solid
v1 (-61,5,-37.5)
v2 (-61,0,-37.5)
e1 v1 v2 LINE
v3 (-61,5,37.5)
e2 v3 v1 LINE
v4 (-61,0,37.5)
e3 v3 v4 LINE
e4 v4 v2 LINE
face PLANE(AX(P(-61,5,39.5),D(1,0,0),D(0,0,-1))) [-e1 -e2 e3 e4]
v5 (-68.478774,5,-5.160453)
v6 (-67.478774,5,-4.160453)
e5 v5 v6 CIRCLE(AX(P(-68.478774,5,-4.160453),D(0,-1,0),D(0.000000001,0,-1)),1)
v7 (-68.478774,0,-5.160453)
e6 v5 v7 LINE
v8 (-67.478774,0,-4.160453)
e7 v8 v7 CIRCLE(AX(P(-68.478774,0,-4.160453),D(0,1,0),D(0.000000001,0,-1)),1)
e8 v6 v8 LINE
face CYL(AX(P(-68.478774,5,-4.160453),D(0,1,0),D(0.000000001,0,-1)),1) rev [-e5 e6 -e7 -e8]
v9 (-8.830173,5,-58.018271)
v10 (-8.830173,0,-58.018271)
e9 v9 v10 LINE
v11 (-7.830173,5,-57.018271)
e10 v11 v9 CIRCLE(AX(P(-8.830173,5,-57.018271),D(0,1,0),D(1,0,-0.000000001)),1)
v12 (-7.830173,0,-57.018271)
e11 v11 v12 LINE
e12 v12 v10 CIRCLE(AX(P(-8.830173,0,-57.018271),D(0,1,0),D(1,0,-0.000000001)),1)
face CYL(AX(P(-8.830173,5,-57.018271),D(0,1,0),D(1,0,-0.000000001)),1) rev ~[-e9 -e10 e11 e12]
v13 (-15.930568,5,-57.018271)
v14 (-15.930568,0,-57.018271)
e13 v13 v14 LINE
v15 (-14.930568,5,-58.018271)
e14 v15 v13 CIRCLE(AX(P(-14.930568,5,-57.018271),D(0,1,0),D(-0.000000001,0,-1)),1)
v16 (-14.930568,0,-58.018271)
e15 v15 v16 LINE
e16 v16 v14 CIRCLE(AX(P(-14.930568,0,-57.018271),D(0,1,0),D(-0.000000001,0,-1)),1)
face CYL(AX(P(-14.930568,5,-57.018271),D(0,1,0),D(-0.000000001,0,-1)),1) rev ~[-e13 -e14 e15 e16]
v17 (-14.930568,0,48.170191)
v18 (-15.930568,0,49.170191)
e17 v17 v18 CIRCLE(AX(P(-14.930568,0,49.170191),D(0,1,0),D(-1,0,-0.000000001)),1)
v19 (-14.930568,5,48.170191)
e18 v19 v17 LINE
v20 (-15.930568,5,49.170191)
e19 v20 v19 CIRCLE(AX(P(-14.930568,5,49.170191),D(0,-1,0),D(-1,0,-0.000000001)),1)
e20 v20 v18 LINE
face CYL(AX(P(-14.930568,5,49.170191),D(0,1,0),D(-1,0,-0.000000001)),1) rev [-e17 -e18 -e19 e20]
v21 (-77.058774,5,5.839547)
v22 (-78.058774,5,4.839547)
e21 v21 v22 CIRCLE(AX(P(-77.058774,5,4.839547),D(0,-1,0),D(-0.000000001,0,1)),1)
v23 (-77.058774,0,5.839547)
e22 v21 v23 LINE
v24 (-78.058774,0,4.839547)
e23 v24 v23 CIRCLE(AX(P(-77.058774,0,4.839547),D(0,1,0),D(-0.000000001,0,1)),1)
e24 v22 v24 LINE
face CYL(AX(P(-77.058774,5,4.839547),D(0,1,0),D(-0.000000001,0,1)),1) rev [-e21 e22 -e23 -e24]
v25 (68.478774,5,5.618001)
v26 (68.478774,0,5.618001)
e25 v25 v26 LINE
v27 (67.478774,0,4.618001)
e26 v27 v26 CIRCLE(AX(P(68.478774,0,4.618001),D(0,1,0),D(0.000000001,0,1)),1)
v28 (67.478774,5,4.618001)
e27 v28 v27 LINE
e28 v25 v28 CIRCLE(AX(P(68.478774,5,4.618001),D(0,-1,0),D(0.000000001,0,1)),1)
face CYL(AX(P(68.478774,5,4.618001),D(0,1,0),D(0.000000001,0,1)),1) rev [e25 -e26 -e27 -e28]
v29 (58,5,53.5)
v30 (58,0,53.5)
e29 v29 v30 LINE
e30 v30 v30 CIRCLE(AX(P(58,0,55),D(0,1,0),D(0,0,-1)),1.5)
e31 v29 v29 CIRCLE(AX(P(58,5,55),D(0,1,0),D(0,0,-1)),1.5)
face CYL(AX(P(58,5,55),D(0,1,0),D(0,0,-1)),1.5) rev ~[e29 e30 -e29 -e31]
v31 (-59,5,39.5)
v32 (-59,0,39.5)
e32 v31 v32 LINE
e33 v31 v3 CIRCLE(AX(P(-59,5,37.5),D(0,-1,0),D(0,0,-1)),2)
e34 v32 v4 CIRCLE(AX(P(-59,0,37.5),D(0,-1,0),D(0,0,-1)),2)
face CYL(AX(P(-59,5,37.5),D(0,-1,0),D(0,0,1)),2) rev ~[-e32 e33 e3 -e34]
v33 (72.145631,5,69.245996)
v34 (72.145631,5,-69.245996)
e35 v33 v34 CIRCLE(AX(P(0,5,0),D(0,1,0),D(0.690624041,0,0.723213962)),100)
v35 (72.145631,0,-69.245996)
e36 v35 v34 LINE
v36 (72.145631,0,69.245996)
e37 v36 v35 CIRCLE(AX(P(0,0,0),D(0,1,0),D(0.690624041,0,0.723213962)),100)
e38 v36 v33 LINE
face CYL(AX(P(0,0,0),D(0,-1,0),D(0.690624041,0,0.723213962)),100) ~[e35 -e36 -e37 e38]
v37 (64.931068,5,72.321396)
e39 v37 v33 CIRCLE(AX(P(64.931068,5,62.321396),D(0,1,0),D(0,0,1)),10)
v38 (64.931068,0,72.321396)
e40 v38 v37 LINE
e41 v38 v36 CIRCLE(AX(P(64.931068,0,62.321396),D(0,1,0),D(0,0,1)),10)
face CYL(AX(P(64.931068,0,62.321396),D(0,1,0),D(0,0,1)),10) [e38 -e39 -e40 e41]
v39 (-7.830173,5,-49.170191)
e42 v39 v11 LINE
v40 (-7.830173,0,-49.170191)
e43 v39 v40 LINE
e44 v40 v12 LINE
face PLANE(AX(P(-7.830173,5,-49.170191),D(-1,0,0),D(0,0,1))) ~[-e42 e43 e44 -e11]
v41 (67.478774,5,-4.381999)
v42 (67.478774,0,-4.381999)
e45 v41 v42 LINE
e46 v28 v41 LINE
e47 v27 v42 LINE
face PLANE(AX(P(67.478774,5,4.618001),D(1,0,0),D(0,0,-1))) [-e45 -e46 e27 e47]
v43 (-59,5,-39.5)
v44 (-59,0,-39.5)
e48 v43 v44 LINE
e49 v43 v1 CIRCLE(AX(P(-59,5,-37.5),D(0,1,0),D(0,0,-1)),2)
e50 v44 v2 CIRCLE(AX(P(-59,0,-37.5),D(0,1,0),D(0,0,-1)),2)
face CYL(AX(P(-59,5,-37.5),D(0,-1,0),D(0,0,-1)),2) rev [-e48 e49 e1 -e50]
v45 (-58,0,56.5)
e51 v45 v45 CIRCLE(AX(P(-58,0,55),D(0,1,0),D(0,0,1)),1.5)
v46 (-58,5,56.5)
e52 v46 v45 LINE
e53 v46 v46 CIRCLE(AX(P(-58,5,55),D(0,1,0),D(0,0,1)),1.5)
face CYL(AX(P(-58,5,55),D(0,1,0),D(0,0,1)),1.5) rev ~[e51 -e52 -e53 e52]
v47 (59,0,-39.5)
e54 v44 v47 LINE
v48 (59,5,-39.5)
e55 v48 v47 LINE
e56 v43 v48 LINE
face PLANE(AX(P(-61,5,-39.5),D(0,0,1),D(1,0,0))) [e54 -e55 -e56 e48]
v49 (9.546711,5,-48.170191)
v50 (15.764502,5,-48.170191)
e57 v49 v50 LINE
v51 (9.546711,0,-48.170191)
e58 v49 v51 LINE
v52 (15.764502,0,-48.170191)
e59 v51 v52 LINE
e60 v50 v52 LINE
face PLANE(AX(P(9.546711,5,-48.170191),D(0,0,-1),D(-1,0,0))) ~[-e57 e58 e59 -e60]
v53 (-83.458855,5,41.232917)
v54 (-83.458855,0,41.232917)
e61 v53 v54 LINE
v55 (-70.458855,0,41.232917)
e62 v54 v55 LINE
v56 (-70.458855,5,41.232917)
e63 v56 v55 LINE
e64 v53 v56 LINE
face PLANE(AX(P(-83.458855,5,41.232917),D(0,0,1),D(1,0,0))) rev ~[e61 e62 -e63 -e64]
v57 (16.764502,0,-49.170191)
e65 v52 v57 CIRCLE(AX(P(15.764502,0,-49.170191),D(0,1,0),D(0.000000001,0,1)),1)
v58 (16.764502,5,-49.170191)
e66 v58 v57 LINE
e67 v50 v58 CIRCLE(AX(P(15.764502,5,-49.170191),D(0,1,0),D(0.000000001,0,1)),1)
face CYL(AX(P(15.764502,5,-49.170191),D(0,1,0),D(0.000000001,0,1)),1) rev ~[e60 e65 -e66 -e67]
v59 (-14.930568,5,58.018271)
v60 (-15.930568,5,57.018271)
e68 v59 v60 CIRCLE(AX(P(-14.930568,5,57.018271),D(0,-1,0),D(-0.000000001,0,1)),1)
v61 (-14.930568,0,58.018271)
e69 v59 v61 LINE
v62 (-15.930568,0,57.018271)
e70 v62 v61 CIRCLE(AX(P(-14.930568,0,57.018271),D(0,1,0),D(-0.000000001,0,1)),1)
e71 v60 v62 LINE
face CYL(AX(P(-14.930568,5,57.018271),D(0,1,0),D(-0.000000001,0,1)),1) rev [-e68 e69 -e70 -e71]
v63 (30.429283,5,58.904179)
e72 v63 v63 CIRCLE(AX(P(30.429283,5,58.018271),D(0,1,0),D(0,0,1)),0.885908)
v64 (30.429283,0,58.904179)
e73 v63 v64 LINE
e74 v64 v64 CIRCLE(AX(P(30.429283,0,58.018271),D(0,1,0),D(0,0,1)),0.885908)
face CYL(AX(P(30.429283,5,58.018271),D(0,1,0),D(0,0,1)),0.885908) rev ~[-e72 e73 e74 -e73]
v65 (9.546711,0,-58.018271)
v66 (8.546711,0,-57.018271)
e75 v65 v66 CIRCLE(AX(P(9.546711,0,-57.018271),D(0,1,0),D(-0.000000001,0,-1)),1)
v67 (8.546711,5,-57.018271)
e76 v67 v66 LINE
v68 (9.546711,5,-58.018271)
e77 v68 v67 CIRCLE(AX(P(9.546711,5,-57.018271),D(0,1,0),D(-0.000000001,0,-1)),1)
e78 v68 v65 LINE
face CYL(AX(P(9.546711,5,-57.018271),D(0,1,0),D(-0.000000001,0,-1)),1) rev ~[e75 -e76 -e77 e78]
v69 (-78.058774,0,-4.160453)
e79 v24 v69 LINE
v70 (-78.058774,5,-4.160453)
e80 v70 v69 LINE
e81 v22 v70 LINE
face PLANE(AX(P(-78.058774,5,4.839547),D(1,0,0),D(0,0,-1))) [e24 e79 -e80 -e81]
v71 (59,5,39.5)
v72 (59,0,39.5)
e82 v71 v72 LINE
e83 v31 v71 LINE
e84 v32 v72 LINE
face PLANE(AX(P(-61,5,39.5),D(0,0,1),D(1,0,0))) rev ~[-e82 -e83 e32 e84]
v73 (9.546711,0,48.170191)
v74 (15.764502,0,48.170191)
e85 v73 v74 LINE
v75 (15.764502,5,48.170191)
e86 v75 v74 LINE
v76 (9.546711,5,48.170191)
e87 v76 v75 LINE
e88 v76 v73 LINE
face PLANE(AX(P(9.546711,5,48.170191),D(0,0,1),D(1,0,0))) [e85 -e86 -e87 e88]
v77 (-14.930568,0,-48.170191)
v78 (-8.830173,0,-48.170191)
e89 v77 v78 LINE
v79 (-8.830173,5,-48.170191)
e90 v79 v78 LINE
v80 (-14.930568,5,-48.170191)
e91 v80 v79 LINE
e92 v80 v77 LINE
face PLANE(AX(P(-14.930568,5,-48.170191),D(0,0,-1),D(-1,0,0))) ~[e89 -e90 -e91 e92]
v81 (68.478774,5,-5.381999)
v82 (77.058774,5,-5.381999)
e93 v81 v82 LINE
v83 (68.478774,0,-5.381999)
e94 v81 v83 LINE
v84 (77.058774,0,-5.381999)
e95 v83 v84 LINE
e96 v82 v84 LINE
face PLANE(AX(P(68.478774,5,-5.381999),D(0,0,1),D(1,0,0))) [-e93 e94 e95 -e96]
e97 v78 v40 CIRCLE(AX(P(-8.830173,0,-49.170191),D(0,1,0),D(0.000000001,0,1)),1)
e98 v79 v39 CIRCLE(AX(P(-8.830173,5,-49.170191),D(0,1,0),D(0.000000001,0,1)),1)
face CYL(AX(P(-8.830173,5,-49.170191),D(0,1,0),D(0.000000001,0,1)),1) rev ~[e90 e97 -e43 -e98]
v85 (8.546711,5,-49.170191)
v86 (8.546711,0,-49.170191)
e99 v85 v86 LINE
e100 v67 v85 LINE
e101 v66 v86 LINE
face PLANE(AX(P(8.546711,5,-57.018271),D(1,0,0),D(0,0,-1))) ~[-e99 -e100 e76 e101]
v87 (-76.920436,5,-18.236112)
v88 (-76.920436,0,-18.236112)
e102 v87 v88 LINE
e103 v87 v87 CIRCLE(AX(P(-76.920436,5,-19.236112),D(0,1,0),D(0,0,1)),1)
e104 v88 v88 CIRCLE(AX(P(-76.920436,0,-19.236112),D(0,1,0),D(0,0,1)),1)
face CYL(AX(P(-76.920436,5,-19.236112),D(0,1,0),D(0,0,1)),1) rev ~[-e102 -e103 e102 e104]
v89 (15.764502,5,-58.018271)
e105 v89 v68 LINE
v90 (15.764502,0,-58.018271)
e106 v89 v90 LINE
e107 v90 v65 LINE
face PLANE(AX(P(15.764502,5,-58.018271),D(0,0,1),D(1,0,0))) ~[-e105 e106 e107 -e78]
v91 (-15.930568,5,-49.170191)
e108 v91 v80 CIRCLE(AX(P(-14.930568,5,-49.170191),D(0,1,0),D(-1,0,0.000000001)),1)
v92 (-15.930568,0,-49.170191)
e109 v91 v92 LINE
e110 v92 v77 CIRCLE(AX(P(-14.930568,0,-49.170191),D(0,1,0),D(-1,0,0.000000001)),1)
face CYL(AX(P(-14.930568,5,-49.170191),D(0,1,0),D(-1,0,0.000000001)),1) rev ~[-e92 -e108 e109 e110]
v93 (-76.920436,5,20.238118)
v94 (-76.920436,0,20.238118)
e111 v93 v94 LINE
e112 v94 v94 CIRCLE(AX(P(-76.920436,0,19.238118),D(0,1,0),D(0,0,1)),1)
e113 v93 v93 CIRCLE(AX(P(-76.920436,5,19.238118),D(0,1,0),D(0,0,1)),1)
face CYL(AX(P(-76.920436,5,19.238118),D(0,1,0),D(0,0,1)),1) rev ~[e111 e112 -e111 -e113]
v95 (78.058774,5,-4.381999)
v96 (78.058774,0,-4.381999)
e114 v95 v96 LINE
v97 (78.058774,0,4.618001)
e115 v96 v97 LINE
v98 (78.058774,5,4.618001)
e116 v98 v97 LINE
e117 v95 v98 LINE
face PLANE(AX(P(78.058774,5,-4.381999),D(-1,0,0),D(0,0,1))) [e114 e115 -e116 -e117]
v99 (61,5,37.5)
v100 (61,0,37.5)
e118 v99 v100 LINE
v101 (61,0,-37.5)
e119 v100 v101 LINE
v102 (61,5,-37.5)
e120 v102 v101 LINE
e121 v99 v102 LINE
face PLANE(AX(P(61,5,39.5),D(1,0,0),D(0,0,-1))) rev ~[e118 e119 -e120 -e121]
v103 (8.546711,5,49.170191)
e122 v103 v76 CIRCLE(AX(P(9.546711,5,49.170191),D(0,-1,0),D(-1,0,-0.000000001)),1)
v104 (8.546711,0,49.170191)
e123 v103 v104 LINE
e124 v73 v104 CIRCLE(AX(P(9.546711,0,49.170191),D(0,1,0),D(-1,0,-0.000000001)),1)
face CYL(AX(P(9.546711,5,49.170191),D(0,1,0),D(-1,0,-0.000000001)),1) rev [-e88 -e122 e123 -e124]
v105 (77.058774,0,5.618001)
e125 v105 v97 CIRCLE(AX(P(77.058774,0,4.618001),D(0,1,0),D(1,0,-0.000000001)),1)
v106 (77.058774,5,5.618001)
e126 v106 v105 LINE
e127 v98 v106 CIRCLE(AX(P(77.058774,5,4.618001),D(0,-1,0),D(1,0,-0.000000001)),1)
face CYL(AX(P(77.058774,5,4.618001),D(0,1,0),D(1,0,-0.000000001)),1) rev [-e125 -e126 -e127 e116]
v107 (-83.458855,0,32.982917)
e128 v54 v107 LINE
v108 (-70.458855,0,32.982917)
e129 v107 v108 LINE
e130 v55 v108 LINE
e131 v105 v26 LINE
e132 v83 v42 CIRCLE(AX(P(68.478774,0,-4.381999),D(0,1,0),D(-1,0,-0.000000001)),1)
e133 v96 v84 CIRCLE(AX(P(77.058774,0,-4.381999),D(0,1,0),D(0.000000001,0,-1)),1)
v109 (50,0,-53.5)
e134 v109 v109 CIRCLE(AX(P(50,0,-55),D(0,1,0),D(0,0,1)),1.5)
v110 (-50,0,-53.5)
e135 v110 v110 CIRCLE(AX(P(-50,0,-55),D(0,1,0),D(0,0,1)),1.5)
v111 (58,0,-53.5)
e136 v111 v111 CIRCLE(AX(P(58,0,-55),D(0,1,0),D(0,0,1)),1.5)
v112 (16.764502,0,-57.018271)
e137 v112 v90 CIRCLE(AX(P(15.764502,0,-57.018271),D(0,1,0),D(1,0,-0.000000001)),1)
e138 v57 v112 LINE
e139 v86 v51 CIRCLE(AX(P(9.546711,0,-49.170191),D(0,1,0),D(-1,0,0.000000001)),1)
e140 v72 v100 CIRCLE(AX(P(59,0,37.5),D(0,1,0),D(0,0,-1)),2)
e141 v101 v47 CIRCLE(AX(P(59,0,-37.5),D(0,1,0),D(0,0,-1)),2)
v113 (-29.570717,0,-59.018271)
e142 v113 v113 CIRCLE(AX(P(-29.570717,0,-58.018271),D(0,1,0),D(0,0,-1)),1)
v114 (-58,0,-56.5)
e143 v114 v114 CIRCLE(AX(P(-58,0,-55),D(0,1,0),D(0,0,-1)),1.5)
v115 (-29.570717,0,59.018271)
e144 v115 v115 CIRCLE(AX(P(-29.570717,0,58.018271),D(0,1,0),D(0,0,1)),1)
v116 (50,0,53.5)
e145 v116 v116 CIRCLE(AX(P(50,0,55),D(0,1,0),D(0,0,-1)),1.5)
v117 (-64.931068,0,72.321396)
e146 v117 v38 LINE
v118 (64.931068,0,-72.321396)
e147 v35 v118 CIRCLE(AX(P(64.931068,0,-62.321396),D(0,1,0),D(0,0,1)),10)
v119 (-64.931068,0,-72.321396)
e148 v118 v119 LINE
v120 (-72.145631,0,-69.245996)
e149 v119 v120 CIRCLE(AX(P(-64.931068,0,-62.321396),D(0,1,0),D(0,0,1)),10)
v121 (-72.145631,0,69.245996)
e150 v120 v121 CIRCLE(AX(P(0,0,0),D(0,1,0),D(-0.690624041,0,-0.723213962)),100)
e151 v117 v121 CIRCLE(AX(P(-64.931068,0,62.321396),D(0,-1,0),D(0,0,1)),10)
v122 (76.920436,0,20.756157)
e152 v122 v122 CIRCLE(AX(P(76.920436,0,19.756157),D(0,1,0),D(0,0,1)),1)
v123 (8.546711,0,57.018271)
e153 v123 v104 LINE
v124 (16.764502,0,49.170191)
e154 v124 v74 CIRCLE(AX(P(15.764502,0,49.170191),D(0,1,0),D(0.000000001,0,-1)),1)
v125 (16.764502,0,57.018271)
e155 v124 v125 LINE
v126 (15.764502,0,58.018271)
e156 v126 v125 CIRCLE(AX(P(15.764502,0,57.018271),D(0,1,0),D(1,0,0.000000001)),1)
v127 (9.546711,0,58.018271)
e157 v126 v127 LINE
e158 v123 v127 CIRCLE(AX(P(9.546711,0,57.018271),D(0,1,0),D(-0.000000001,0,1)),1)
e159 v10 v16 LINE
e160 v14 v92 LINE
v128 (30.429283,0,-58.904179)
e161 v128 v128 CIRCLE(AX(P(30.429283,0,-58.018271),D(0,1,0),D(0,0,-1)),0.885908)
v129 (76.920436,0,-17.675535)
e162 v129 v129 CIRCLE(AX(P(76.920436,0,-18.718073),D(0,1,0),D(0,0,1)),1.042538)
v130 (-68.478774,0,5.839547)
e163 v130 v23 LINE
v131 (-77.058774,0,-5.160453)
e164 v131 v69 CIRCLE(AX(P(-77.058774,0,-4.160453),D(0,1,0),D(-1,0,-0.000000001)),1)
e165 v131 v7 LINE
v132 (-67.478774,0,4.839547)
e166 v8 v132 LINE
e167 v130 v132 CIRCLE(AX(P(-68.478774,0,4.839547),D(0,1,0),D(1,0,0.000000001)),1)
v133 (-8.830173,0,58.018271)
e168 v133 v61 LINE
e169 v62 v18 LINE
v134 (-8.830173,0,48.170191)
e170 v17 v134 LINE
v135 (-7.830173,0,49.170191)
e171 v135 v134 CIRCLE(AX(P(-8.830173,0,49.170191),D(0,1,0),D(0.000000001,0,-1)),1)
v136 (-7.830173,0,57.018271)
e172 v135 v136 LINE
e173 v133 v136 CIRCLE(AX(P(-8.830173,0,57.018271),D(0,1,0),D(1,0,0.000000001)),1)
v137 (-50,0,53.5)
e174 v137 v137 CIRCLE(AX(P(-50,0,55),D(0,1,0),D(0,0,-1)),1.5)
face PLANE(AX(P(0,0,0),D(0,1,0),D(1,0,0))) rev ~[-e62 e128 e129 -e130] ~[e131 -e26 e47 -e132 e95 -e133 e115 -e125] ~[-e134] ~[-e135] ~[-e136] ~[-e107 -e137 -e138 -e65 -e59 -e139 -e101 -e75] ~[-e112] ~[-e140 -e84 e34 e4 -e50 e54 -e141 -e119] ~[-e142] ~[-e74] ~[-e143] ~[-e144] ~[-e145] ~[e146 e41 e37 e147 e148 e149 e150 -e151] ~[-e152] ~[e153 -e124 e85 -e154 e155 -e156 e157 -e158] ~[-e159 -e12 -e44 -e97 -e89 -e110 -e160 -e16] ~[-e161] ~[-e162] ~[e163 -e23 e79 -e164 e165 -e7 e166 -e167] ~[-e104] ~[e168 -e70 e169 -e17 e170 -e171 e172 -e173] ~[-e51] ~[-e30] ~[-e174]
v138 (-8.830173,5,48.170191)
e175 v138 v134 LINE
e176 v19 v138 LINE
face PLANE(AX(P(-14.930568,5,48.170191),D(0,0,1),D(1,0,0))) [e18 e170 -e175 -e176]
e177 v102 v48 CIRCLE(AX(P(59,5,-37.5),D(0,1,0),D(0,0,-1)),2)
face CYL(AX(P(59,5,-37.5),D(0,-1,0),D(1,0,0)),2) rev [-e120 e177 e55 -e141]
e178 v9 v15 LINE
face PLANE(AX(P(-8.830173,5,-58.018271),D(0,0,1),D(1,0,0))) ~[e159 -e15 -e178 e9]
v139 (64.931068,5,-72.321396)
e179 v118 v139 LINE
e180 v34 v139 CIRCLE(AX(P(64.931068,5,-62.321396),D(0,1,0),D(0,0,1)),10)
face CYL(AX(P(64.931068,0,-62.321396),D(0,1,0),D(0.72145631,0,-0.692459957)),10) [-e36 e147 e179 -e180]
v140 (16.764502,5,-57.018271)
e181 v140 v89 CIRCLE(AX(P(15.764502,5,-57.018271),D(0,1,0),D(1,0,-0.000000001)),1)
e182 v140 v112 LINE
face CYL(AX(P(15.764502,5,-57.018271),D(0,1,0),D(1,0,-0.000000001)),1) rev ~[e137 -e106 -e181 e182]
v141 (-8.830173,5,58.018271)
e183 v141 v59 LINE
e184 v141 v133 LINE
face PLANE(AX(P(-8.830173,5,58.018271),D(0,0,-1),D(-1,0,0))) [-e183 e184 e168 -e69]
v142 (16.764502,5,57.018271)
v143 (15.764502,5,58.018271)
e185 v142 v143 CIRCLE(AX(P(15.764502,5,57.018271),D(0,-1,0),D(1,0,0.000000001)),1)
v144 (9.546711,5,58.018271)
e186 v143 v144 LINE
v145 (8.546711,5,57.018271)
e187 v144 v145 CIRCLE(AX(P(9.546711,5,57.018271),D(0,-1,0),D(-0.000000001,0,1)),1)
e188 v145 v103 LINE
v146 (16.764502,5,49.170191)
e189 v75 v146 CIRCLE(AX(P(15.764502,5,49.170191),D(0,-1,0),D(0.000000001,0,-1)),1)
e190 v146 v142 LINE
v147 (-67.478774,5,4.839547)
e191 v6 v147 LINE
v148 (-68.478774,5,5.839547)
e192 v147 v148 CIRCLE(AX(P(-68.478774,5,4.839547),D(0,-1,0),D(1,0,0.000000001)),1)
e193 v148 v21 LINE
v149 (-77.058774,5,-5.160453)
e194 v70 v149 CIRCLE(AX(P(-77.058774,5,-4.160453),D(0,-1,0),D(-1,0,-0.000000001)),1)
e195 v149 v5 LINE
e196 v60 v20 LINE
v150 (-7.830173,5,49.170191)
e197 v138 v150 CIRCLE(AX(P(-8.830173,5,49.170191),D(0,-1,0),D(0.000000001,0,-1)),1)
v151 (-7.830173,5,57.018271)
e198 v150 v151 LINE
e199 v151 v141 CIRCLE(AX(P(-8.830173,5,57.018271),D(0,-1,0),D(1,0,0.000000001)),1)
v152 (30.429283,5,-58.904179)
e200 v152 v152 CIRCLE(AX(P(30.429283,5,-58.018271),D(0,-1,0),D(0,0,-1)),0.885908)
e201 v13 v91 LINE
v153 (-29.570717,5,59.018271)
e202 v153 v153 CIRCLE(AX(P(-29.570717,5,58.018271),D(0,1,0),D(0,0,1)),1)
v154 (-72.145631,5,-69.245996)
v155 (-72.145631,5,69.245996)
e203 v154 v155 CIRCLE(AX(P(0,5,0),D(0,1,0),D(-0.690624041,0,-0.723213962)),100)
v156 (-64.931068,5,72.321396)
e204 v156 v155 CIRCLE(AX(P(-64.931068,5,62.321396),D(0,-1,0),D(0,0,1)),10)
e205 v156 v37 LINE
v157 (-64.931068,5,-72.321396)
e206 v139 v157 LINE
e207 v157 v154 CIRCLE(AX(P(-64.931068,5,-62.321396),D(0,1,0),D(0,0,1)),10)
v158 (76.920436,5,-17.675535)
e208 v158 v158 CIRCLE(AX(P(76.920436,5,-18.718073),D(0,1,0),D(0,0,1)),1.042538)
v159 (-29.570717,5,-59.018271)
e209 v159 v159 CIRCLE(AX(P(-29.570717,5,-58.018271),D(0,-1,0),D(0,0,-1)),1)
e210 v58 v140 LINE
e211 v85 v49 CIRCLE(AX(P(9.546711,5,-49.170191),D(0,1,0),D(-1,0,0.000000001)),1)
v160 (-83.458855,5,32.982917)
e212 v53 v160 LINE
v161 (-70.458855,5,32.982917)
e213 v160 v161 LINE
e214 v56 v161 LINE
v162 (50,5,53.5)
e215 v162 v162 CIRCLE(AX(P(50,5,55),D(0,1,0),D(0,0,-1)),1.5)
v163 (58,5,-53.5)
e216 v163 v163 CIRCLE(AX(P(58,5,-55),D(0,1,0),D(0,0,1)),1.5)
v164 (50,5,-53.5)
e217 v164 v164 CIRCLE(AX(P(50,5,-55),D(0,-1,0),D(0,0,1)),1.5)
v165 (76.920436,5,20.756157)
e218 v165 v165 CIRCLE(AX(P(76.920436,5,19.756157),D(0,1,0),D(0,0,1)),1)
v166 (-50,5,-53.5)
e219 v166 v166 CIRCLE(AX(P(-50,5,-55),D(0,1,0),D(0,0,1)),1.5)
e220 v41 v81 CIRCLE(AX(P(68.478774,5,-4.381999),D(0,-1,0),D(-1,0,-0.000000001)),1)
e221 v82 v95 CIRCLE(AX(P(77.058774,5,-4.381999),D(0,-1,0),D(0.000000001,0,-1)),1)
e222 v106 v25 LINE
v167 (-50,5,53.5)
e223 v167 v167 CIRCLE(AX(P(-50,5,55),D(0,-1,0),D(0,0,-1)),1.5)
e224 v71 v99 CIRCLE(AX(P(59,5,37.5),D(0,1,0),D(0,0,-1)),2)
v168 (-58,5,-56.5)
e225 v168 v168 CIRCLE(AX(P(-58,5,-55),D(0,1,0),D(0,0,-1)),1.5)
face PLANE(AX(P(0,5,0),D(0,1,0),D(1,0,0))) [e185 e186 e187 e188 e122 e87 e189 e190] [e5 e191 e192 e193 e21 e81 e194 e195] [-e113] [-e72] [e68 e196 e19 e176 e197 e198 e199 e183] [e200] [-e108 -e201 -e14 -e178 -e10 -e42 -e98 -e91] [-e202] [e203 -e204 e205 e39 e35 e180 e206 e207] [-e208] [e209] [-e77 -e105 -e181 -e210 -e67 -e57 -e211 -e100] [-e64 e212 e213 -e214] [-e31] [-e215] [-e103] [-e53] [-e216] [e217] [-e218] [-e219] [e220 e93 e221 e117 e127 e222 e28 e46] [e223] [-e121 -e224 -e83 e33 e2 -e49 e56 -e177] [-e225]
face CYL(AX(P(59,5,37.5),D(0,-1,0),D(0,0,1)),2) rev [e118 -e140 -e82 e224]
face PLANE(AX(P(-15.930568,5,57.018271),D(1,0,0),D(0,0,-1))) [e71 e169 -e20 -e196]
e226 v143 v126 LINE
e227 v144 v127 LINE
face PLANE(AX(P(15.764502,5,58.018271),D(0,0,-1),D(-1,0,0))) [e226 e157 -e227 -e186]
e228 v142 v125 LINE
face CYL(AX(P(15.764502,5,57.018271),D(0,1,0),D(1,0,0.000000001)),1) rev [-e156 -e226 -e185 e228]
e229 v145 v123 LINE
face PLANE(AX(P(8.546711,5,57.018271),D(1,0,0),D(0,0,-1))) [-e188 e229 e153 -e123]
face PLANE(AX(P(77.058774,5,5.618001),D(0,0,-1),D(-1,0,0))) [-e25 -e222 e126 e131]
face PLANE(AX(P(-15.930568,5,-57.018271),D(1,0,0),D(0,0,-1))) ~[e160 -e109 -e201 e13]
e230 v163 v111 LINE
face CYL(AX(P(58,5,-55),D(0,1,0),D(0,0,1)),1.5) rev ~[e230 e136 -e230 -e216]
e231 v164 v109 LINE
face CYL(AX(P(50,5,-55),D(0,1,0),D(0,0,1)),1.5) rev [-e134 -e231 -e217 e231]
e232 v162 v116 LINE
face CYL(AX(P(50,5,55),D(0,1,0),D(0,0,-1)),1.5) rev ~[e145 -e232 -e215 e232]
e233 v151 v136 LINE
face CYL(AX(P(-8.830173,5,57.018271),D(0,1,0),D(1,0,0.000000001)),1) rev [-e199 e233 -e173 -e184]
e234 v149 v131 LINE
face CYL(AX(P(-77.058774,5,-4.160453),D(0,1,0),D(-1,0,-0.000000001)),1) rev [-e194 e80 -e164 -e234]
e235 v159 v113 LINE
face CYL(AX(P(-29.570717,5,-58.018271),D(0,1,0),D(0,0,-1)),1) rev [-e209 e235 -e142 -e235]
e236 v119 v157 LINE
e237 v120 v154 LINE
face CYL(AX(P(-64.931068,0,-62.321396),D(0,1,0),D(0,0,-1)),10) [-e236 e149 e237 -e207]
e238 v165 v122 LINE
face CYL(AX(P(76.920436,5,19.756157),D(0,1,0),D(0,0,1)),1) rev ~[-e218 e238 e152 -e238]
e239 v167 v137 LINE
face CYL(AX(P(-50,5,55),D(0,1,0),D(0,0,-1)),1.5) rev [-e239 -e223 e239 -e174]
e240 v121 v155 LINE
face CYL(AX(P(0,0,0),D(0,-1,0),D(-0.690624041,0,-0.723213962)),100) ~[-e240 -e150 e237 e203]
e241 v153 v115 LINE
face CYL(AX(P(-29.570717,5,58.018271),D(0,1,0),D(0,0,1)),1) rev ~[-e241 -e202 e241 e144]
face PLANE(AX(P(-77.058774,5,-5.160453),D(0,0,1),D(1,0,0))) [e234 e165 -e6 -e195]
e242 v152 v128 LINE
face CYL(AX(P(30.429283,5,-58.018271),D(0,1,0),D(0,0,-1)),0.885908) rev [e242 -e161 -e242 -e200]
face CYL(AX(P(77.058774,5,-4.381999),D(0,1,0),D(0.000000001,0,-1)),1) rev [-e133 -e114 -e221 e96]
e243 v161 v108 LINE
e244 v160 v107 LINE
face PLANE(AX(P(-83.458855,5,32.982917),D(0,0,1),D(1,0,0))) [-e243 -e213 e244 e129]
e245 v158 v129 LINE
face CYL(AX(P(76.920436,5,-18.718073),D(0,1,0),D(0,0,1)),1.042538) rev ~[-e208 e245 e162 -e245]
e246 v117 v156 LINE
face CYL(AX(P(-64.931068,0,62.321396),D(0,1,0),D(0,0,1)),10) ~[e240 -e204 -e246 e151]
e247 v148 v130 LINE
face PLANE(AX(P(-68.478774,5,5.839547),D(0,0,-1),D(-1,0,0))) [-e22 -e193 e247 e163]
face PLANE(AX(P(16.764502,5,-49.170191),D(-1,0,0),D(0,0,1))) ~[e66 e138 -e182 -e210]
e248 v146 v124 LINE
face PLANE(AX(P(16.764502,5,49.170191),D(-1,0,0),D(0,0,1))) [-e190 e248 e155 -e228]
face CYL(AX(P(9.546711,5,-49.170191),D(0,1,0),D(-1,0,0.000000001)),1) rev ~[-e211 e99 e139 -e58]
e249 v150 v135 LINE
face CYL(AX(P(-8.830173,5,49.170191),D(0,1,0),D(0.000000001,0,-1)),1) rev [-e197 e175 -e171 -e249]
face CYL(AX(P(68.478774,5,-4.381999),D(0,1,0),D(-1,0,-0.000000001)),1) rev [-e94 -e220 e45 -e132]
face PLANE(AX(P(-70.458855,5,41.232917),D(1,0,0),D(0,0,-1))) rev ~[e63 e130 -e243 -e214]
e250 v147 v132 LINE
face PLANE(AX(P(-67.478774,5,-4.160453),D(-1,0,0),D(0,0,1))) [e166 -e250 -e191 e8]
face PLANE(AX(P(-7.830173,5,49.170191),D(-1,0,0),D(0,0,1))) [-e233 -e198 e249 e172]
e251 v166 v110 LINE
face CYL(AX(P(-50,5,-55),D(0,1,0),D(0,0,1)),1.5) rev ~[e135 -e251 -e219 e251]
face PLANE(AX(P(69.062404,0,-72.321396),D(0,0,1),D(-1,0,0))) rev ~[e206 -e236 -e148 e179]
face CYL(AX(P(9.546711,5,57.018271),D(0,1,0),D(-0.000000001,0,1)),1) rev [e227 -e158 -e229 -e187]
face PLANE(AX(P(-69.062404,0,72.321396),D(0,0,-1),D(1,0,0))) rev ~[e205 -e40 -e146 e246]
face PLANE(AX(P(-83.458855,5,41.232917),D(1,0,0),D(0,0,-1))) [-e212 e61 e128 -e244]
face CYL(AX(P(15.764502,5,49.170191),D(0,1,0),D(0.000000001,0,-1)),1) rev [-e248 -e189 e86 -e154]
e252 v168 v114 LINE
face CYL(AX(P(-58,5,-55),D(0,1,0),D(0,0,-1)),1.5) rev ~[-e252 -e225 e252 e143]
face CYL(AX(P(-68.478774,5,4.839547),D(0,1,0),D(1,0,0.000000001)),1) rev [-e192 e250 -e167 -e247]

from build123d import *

# Parameters (mm, degrees)
RESSALTO_EXTRUS_O1_DEPTH  = 5
FILETE1_R                 = 10
ESBO_O4_R                 = 1.5
CORTE_EXTRUS_O3_DEPTH     = 124.512688994
ESPELHAR4_COPY_1_SKETCH_R = 1.5
ESPELHAR4_COPY_1_DEPTH    = 124.512688994
SKETCH1_W                 = 122
SKETCH1_H                 = 79
CUT_EXTRUDE1_DEPTH        = 124.512688994
FILLET2_R                 = 2
ESBO_O6_R                 = 1
CORTE_EXTRUS_O4_DEPTH     = 124.512688994
ESBO_O8_R                 = 1
ESBO_O8_R_2               = 1.042538076
CORTE_EXTRUS_O5_DEPTH     = 124.512688994
ESBO_O12_W                = 13
ESBO_O12_H                = 8.25
CORTE_EXTRUS_O7_DEPTH     = 124.512688994
ESBO_O13_R                = 1.5
CORTE_EXTRUS_O8_DEPTH     = 124.512688994
ESBO_O14_R                = 1
ESBO_O14_R_2              = 0.885907966
CORTE_EXTRUS_O9_DEPTH     = 124.512688994


with BuildPart() as part:
    # Esboço1 → Ressalto-extrusão1 (new body)
    with BuildSketch(Plane(origin=(0, 0, 0), x_dir=(1, 0, 0), z_dir=(0, 1, 0))):
        with BuildLine():
            Line((-69.062404082, -72.321396159), (69.062404082, -72.321396159))
            ThreePointArc((69.062404082, -72.321396159), (100, 0), (69.062404082, 72.321396159))
            Line((69.062404082, 72.321396159), (-69.062404082, 72.321396159))
            ThreePointArc((-69.062404082, 72.321396159), (-100, 0), (-69.062404082, -72.321396159))
        make_face()
    extrude(amount=RESSALTO_EXTRUS_O1_DEPTH)

    # Filete1
    filete1_edges = [part.edges().sort_by_distance(p)[0] for p in [
        (-69.062404082, 2.5, -72.321396159),
        (69.062404082, 2.5, -72.321396159),
        (69.062404082, 2.5, 72.321396159),
        (-69.062404082, 2.5, 72.321396159),
    ]]
    fillet(filete1_edges, radius=FILETE1_R)

    # Esboço4 → Corte-extrusão3 (cut, through all)
    with BuildSketch(Plane(origin=(0, 5, 0), x_dir=(1, 0, 0), z_dir=(0, 1, 0))):
        with Locations(Location((-50, 55, 0), (0, 0, 270))):
            Circle(ESBO_O4_R)
    corte_extrus_o3 = extrude(amount=-CORTE_EXTRUS_O3_DEPTH, mode=Mode.SUBTRACT)

    # Espelhar3: Corte-extrusão3 across plane
    add(corte_extrus_o3.mirror(Plane(origin=(0, 0, 0), x_dir=(0, 0, 1), z_dir=(1, 0, 0))), mode=Mode.SUBTRACT)

    # Espelhar4: Corte-extrusão3 across plane
    add(corte_extrus_o3.mirror(Plane.XY), mode=Mode.SUBTRACT)

    # Espelhar4 copy 1 sketch → Espelhar4 copy 1 (cut, through all)
    with BuildSketch(Plane(origin=(0, 5, 0), x_dir=(-1, 0, 0), z_dir=(0, 1, 0))):
        with Locations(Location((-50, 55, 0), (0, 0, 270))):
            Circle(ESPELHAR4_COPY_1_SKETCH_R)
    extrude(amount=-ESPELHAR4_COPY_1_DEPTH, mode=Mode.SUBTRACT)

    # Sketch1 → Cut-Extrude1 (cut, through all)
    with BuildSketch(Plane(origin=(0, 5, 0), x_dir=(1, 0, 0), z_dir=(0, 1, 0))):
        Rectangle(SKETCH1_W, SKETCH1_H)
    extrude(amount=-CUT_EXTRUDE1_DEPTH, mode=Mode.SUBTRACT)

    # Fillet2
    fillet2_edges = [part.edges().sort_by_distance(p)[0] for p in [
        (-61, 2.5, 39.5),
        (-61, 2.5, -39.5),
        (61, 2.5, -39.5),
        (61, 2.5, 39.5),
    ]]
    fillet(fillet2_edges, radius=FILLET2_R)

    # Esboço6 → Corte-extrusão4 (cut, through all)
    with BuildSketch(Plane(origin=(0, 5, 0), x_dir=(1, 0, 0), z_dir=(0, 1, 0))):
        with Locations(Location((-76.920436381, 19.236111974, 0), (0, 0, 270))):
            Circle(ESBO_O6_R)
        with Locations(Location((-76.920436293, -19.238117897, 0), (0, 0, 270))):
            Circle(ESBO_O6_R)
    extrude(amount=-CORTE_EXTRUS_O4_DEPTH, mode=Mode.SUBTRACT)

    # Esboço8 → Corte-extrusão5 (cut, through all)
    with BuildSketch(Plane(origin=(0, 5, 0), x_dir=(1, 0, 0), z_dir=(0, 1, 0))):
        with Locations(Location((76.920436129, -19.756156804, 0), (0, 0, 270))):
            Circle(ESBO_O8_R)
        with Locations(Location((76.920436041, 18.718073068, 0), (0, 0, 270))):
            Circle(ESBO_O8_R_2)
        with BuildLine():
            Line((77.058773716, -5.618000613), (68.478773716, -5.618000613))
            ThreePointArc((68.478773716, -5.618000613), (67.771666935, -5.325107395), (67.478773716, -4.618000613))
            Line((67.478773716, -4.618000613), (67.478773716, 4.381999387))
            ThreePointArc((67.478773716, 4.381999387), (67.771666935, 5.089106168), (68.478773716, 5.381999387))
            Line((68.478773716, 5.381999387), (77.058773716, 5.381999387))
            ThreePointArc((77.058773716, 5.381999387), (77.765880497, 5.089106168), (78.058773716, 4.381999387))
            Line((78.058773716, 4.381999387), (78.058773716, -4.618000613))
            ThreePointArc((78.058773716, -4.618000613), (77.765880497, -5.325107395), (77.058773716, -5.618000613))
        make_face()
    extrude(amount=-CORTE_EXTRUS_O5_DEPTH, mode=Mode.SUBTRACT)

    # Esboço12 → Corte-extrusão7 (cut, through all)
    with BuildSketch(Plane(origin=(0, 5, 0), x_dir=(1, 0, 0), z_dir=(0, 1, 0))):
        with Locations((-76.958855033, -37.107917316)):
            Rectangle(ESBO_O12_W, ESBO_O12_H)
        with BuildLine():
            Line((-77.058773716, 5.160452578), (-68.478773716, 5.160452578))
            ThreePointArc((-68.478773716, 5.160452578), (-67.771666935, 4.867559359), (-67.478773716, 4.160452578))
            Line((-67.478773716, 4.160452578), (-67.478773716, -4.839547422))
            ThreePointArc((-67.478773716, -4.839547422), (-67.771666935, -5.546654203), (-68.478773716, -5.839547422))
            Line((-68.478773716, -5.839547422), (-77.058773716, -5.839547422))
            ThreePointArc((-77.058773716, -5.839547422), (-77.765880497, -5.546654203), (-78.058773716, -4.839547422))
            Line((-78.058773716, -4.839547422), (-78.058773716, 4.160452578))
            ThreePointArc((-78.058773716, 4.160452578), (-77.765880497, 4.867559359), (-77.058773716, 5.160452578))
        make_face()
    extrude(amount=-CORTE_EXTRUS_O7_DEPTH, mode=Mode.SUBTRACT)

    # Esboço13 → Corte-extrusão8 (cut, through all)
    with BuildSketch(Plane(origin=(0, 5, 0), x_dir=(1, 0, 0), z_dir=(0, 1, 0))):
        with Locations(Location((-58, -55, 0), (0, 0, 270))):
            Circle(ESBO_O13_R)
        with Locations(Location((58, -55, 0), (0, 0, 90))):
            Circle(ESBO_O13_R)
        with Locations(Location((58, 55, 0), (0, 0, 270))):
            Circle(ESBO_O13_R)
        with Locations(Location((-58, 55, 0), (0, 0, 90))):
            Circle(ESBO_O13_R)
    extrude(amount=-CORTE_EXTRUS_O8_DEPTH, mode=Mode.SUBTRACT)

    # Esboço14 → Corte-extrusão9 (cut, through all)
    with BuildSketch(Plane(origin=(0, 5, 0), x_dir=(1, 0, 0), z_dir=(0, 1, 0))):
        with Locations(Location((-29.57071729, -58.018271029, 0), (0, 0, 270))):
            Circle(ESBO_O14_R)
        with Locations(Location((30.42928271, -58.018271029, 0), (0, 0, 270))):
            Circle(ESBO_O14_R_2)
        with BuildLine():
            Line((-14.930567591, -48.170190889), (-8.830173292, -48.170190889))
            ThreePointArc((-8.830173292, -48.170190889), (-8.123066511, -48.463084108), (-7.830173292, -49.170190889))
            Line((-7.830173292, -49.170190889), (-7.830173292, -57.018271029))
            ThreePointArc((-7.830173292, -57.018271029), (-8.123066511, -57.72537781), (-8.830173292, -58.018271029))
            Line((-8.830173292, -58.018271029), (-14.930567591, -58.018271029))
            ThreePointArc((-14.930567591, -58.018271029), (-15.637674372, -57.72537781), (-15.930567591, -57.018271029))
            Line((-15.930567591, -57.018271029), (-15.930567591, -49.170190889))
            ThreePointArc((-15.930567591, -49.170190889), (-15.637674372, -48.463084108), (-14.930567591, -48.170190889))
        make_face()
        with BuildLine():
            Line((9.546710766, -48.170190889), (15.764502084, -48.170190889))
            ThreePointArc((15.764502084, -48.170190889), (16.471608865, -48.463084108), (16.764502084, -49.170190889))
            Line((16.764502084, -49.170190889), (16.764502084, -57.018271029))
            ThreePointArc((16.764502084, -57.018271029), (16.471608865, -57.72537781), (15.764502084, -58.018271029))
            Line((15.764502084, -58.018271029), (9.546710766, -58.018271029))
            ThreePointArc((9.546710766, -58.018271029), (8.839603985, -57.72537781), (8.546710766, -57.018271029))
            Line((8.546710766, -57.018271029), (8.546710766, -49.170190889))
            ThreePointArc((8.546710766, -49.170190889), (8.839603985, -48.463084108), (9.546710766, -48.170190889))
        make_face()
    corte_extrus_o9 = extrude(amount=-CORTE_EXTRUS_O9_DEPTH, mode=Mode.SUBTRACT)

    # Espelhar5: Corte-extrusão9 across plane
    add(corte_extrus_o9.mirror(Plane.XY), mode=Mode.SUBTRACT)


solid = part.part
